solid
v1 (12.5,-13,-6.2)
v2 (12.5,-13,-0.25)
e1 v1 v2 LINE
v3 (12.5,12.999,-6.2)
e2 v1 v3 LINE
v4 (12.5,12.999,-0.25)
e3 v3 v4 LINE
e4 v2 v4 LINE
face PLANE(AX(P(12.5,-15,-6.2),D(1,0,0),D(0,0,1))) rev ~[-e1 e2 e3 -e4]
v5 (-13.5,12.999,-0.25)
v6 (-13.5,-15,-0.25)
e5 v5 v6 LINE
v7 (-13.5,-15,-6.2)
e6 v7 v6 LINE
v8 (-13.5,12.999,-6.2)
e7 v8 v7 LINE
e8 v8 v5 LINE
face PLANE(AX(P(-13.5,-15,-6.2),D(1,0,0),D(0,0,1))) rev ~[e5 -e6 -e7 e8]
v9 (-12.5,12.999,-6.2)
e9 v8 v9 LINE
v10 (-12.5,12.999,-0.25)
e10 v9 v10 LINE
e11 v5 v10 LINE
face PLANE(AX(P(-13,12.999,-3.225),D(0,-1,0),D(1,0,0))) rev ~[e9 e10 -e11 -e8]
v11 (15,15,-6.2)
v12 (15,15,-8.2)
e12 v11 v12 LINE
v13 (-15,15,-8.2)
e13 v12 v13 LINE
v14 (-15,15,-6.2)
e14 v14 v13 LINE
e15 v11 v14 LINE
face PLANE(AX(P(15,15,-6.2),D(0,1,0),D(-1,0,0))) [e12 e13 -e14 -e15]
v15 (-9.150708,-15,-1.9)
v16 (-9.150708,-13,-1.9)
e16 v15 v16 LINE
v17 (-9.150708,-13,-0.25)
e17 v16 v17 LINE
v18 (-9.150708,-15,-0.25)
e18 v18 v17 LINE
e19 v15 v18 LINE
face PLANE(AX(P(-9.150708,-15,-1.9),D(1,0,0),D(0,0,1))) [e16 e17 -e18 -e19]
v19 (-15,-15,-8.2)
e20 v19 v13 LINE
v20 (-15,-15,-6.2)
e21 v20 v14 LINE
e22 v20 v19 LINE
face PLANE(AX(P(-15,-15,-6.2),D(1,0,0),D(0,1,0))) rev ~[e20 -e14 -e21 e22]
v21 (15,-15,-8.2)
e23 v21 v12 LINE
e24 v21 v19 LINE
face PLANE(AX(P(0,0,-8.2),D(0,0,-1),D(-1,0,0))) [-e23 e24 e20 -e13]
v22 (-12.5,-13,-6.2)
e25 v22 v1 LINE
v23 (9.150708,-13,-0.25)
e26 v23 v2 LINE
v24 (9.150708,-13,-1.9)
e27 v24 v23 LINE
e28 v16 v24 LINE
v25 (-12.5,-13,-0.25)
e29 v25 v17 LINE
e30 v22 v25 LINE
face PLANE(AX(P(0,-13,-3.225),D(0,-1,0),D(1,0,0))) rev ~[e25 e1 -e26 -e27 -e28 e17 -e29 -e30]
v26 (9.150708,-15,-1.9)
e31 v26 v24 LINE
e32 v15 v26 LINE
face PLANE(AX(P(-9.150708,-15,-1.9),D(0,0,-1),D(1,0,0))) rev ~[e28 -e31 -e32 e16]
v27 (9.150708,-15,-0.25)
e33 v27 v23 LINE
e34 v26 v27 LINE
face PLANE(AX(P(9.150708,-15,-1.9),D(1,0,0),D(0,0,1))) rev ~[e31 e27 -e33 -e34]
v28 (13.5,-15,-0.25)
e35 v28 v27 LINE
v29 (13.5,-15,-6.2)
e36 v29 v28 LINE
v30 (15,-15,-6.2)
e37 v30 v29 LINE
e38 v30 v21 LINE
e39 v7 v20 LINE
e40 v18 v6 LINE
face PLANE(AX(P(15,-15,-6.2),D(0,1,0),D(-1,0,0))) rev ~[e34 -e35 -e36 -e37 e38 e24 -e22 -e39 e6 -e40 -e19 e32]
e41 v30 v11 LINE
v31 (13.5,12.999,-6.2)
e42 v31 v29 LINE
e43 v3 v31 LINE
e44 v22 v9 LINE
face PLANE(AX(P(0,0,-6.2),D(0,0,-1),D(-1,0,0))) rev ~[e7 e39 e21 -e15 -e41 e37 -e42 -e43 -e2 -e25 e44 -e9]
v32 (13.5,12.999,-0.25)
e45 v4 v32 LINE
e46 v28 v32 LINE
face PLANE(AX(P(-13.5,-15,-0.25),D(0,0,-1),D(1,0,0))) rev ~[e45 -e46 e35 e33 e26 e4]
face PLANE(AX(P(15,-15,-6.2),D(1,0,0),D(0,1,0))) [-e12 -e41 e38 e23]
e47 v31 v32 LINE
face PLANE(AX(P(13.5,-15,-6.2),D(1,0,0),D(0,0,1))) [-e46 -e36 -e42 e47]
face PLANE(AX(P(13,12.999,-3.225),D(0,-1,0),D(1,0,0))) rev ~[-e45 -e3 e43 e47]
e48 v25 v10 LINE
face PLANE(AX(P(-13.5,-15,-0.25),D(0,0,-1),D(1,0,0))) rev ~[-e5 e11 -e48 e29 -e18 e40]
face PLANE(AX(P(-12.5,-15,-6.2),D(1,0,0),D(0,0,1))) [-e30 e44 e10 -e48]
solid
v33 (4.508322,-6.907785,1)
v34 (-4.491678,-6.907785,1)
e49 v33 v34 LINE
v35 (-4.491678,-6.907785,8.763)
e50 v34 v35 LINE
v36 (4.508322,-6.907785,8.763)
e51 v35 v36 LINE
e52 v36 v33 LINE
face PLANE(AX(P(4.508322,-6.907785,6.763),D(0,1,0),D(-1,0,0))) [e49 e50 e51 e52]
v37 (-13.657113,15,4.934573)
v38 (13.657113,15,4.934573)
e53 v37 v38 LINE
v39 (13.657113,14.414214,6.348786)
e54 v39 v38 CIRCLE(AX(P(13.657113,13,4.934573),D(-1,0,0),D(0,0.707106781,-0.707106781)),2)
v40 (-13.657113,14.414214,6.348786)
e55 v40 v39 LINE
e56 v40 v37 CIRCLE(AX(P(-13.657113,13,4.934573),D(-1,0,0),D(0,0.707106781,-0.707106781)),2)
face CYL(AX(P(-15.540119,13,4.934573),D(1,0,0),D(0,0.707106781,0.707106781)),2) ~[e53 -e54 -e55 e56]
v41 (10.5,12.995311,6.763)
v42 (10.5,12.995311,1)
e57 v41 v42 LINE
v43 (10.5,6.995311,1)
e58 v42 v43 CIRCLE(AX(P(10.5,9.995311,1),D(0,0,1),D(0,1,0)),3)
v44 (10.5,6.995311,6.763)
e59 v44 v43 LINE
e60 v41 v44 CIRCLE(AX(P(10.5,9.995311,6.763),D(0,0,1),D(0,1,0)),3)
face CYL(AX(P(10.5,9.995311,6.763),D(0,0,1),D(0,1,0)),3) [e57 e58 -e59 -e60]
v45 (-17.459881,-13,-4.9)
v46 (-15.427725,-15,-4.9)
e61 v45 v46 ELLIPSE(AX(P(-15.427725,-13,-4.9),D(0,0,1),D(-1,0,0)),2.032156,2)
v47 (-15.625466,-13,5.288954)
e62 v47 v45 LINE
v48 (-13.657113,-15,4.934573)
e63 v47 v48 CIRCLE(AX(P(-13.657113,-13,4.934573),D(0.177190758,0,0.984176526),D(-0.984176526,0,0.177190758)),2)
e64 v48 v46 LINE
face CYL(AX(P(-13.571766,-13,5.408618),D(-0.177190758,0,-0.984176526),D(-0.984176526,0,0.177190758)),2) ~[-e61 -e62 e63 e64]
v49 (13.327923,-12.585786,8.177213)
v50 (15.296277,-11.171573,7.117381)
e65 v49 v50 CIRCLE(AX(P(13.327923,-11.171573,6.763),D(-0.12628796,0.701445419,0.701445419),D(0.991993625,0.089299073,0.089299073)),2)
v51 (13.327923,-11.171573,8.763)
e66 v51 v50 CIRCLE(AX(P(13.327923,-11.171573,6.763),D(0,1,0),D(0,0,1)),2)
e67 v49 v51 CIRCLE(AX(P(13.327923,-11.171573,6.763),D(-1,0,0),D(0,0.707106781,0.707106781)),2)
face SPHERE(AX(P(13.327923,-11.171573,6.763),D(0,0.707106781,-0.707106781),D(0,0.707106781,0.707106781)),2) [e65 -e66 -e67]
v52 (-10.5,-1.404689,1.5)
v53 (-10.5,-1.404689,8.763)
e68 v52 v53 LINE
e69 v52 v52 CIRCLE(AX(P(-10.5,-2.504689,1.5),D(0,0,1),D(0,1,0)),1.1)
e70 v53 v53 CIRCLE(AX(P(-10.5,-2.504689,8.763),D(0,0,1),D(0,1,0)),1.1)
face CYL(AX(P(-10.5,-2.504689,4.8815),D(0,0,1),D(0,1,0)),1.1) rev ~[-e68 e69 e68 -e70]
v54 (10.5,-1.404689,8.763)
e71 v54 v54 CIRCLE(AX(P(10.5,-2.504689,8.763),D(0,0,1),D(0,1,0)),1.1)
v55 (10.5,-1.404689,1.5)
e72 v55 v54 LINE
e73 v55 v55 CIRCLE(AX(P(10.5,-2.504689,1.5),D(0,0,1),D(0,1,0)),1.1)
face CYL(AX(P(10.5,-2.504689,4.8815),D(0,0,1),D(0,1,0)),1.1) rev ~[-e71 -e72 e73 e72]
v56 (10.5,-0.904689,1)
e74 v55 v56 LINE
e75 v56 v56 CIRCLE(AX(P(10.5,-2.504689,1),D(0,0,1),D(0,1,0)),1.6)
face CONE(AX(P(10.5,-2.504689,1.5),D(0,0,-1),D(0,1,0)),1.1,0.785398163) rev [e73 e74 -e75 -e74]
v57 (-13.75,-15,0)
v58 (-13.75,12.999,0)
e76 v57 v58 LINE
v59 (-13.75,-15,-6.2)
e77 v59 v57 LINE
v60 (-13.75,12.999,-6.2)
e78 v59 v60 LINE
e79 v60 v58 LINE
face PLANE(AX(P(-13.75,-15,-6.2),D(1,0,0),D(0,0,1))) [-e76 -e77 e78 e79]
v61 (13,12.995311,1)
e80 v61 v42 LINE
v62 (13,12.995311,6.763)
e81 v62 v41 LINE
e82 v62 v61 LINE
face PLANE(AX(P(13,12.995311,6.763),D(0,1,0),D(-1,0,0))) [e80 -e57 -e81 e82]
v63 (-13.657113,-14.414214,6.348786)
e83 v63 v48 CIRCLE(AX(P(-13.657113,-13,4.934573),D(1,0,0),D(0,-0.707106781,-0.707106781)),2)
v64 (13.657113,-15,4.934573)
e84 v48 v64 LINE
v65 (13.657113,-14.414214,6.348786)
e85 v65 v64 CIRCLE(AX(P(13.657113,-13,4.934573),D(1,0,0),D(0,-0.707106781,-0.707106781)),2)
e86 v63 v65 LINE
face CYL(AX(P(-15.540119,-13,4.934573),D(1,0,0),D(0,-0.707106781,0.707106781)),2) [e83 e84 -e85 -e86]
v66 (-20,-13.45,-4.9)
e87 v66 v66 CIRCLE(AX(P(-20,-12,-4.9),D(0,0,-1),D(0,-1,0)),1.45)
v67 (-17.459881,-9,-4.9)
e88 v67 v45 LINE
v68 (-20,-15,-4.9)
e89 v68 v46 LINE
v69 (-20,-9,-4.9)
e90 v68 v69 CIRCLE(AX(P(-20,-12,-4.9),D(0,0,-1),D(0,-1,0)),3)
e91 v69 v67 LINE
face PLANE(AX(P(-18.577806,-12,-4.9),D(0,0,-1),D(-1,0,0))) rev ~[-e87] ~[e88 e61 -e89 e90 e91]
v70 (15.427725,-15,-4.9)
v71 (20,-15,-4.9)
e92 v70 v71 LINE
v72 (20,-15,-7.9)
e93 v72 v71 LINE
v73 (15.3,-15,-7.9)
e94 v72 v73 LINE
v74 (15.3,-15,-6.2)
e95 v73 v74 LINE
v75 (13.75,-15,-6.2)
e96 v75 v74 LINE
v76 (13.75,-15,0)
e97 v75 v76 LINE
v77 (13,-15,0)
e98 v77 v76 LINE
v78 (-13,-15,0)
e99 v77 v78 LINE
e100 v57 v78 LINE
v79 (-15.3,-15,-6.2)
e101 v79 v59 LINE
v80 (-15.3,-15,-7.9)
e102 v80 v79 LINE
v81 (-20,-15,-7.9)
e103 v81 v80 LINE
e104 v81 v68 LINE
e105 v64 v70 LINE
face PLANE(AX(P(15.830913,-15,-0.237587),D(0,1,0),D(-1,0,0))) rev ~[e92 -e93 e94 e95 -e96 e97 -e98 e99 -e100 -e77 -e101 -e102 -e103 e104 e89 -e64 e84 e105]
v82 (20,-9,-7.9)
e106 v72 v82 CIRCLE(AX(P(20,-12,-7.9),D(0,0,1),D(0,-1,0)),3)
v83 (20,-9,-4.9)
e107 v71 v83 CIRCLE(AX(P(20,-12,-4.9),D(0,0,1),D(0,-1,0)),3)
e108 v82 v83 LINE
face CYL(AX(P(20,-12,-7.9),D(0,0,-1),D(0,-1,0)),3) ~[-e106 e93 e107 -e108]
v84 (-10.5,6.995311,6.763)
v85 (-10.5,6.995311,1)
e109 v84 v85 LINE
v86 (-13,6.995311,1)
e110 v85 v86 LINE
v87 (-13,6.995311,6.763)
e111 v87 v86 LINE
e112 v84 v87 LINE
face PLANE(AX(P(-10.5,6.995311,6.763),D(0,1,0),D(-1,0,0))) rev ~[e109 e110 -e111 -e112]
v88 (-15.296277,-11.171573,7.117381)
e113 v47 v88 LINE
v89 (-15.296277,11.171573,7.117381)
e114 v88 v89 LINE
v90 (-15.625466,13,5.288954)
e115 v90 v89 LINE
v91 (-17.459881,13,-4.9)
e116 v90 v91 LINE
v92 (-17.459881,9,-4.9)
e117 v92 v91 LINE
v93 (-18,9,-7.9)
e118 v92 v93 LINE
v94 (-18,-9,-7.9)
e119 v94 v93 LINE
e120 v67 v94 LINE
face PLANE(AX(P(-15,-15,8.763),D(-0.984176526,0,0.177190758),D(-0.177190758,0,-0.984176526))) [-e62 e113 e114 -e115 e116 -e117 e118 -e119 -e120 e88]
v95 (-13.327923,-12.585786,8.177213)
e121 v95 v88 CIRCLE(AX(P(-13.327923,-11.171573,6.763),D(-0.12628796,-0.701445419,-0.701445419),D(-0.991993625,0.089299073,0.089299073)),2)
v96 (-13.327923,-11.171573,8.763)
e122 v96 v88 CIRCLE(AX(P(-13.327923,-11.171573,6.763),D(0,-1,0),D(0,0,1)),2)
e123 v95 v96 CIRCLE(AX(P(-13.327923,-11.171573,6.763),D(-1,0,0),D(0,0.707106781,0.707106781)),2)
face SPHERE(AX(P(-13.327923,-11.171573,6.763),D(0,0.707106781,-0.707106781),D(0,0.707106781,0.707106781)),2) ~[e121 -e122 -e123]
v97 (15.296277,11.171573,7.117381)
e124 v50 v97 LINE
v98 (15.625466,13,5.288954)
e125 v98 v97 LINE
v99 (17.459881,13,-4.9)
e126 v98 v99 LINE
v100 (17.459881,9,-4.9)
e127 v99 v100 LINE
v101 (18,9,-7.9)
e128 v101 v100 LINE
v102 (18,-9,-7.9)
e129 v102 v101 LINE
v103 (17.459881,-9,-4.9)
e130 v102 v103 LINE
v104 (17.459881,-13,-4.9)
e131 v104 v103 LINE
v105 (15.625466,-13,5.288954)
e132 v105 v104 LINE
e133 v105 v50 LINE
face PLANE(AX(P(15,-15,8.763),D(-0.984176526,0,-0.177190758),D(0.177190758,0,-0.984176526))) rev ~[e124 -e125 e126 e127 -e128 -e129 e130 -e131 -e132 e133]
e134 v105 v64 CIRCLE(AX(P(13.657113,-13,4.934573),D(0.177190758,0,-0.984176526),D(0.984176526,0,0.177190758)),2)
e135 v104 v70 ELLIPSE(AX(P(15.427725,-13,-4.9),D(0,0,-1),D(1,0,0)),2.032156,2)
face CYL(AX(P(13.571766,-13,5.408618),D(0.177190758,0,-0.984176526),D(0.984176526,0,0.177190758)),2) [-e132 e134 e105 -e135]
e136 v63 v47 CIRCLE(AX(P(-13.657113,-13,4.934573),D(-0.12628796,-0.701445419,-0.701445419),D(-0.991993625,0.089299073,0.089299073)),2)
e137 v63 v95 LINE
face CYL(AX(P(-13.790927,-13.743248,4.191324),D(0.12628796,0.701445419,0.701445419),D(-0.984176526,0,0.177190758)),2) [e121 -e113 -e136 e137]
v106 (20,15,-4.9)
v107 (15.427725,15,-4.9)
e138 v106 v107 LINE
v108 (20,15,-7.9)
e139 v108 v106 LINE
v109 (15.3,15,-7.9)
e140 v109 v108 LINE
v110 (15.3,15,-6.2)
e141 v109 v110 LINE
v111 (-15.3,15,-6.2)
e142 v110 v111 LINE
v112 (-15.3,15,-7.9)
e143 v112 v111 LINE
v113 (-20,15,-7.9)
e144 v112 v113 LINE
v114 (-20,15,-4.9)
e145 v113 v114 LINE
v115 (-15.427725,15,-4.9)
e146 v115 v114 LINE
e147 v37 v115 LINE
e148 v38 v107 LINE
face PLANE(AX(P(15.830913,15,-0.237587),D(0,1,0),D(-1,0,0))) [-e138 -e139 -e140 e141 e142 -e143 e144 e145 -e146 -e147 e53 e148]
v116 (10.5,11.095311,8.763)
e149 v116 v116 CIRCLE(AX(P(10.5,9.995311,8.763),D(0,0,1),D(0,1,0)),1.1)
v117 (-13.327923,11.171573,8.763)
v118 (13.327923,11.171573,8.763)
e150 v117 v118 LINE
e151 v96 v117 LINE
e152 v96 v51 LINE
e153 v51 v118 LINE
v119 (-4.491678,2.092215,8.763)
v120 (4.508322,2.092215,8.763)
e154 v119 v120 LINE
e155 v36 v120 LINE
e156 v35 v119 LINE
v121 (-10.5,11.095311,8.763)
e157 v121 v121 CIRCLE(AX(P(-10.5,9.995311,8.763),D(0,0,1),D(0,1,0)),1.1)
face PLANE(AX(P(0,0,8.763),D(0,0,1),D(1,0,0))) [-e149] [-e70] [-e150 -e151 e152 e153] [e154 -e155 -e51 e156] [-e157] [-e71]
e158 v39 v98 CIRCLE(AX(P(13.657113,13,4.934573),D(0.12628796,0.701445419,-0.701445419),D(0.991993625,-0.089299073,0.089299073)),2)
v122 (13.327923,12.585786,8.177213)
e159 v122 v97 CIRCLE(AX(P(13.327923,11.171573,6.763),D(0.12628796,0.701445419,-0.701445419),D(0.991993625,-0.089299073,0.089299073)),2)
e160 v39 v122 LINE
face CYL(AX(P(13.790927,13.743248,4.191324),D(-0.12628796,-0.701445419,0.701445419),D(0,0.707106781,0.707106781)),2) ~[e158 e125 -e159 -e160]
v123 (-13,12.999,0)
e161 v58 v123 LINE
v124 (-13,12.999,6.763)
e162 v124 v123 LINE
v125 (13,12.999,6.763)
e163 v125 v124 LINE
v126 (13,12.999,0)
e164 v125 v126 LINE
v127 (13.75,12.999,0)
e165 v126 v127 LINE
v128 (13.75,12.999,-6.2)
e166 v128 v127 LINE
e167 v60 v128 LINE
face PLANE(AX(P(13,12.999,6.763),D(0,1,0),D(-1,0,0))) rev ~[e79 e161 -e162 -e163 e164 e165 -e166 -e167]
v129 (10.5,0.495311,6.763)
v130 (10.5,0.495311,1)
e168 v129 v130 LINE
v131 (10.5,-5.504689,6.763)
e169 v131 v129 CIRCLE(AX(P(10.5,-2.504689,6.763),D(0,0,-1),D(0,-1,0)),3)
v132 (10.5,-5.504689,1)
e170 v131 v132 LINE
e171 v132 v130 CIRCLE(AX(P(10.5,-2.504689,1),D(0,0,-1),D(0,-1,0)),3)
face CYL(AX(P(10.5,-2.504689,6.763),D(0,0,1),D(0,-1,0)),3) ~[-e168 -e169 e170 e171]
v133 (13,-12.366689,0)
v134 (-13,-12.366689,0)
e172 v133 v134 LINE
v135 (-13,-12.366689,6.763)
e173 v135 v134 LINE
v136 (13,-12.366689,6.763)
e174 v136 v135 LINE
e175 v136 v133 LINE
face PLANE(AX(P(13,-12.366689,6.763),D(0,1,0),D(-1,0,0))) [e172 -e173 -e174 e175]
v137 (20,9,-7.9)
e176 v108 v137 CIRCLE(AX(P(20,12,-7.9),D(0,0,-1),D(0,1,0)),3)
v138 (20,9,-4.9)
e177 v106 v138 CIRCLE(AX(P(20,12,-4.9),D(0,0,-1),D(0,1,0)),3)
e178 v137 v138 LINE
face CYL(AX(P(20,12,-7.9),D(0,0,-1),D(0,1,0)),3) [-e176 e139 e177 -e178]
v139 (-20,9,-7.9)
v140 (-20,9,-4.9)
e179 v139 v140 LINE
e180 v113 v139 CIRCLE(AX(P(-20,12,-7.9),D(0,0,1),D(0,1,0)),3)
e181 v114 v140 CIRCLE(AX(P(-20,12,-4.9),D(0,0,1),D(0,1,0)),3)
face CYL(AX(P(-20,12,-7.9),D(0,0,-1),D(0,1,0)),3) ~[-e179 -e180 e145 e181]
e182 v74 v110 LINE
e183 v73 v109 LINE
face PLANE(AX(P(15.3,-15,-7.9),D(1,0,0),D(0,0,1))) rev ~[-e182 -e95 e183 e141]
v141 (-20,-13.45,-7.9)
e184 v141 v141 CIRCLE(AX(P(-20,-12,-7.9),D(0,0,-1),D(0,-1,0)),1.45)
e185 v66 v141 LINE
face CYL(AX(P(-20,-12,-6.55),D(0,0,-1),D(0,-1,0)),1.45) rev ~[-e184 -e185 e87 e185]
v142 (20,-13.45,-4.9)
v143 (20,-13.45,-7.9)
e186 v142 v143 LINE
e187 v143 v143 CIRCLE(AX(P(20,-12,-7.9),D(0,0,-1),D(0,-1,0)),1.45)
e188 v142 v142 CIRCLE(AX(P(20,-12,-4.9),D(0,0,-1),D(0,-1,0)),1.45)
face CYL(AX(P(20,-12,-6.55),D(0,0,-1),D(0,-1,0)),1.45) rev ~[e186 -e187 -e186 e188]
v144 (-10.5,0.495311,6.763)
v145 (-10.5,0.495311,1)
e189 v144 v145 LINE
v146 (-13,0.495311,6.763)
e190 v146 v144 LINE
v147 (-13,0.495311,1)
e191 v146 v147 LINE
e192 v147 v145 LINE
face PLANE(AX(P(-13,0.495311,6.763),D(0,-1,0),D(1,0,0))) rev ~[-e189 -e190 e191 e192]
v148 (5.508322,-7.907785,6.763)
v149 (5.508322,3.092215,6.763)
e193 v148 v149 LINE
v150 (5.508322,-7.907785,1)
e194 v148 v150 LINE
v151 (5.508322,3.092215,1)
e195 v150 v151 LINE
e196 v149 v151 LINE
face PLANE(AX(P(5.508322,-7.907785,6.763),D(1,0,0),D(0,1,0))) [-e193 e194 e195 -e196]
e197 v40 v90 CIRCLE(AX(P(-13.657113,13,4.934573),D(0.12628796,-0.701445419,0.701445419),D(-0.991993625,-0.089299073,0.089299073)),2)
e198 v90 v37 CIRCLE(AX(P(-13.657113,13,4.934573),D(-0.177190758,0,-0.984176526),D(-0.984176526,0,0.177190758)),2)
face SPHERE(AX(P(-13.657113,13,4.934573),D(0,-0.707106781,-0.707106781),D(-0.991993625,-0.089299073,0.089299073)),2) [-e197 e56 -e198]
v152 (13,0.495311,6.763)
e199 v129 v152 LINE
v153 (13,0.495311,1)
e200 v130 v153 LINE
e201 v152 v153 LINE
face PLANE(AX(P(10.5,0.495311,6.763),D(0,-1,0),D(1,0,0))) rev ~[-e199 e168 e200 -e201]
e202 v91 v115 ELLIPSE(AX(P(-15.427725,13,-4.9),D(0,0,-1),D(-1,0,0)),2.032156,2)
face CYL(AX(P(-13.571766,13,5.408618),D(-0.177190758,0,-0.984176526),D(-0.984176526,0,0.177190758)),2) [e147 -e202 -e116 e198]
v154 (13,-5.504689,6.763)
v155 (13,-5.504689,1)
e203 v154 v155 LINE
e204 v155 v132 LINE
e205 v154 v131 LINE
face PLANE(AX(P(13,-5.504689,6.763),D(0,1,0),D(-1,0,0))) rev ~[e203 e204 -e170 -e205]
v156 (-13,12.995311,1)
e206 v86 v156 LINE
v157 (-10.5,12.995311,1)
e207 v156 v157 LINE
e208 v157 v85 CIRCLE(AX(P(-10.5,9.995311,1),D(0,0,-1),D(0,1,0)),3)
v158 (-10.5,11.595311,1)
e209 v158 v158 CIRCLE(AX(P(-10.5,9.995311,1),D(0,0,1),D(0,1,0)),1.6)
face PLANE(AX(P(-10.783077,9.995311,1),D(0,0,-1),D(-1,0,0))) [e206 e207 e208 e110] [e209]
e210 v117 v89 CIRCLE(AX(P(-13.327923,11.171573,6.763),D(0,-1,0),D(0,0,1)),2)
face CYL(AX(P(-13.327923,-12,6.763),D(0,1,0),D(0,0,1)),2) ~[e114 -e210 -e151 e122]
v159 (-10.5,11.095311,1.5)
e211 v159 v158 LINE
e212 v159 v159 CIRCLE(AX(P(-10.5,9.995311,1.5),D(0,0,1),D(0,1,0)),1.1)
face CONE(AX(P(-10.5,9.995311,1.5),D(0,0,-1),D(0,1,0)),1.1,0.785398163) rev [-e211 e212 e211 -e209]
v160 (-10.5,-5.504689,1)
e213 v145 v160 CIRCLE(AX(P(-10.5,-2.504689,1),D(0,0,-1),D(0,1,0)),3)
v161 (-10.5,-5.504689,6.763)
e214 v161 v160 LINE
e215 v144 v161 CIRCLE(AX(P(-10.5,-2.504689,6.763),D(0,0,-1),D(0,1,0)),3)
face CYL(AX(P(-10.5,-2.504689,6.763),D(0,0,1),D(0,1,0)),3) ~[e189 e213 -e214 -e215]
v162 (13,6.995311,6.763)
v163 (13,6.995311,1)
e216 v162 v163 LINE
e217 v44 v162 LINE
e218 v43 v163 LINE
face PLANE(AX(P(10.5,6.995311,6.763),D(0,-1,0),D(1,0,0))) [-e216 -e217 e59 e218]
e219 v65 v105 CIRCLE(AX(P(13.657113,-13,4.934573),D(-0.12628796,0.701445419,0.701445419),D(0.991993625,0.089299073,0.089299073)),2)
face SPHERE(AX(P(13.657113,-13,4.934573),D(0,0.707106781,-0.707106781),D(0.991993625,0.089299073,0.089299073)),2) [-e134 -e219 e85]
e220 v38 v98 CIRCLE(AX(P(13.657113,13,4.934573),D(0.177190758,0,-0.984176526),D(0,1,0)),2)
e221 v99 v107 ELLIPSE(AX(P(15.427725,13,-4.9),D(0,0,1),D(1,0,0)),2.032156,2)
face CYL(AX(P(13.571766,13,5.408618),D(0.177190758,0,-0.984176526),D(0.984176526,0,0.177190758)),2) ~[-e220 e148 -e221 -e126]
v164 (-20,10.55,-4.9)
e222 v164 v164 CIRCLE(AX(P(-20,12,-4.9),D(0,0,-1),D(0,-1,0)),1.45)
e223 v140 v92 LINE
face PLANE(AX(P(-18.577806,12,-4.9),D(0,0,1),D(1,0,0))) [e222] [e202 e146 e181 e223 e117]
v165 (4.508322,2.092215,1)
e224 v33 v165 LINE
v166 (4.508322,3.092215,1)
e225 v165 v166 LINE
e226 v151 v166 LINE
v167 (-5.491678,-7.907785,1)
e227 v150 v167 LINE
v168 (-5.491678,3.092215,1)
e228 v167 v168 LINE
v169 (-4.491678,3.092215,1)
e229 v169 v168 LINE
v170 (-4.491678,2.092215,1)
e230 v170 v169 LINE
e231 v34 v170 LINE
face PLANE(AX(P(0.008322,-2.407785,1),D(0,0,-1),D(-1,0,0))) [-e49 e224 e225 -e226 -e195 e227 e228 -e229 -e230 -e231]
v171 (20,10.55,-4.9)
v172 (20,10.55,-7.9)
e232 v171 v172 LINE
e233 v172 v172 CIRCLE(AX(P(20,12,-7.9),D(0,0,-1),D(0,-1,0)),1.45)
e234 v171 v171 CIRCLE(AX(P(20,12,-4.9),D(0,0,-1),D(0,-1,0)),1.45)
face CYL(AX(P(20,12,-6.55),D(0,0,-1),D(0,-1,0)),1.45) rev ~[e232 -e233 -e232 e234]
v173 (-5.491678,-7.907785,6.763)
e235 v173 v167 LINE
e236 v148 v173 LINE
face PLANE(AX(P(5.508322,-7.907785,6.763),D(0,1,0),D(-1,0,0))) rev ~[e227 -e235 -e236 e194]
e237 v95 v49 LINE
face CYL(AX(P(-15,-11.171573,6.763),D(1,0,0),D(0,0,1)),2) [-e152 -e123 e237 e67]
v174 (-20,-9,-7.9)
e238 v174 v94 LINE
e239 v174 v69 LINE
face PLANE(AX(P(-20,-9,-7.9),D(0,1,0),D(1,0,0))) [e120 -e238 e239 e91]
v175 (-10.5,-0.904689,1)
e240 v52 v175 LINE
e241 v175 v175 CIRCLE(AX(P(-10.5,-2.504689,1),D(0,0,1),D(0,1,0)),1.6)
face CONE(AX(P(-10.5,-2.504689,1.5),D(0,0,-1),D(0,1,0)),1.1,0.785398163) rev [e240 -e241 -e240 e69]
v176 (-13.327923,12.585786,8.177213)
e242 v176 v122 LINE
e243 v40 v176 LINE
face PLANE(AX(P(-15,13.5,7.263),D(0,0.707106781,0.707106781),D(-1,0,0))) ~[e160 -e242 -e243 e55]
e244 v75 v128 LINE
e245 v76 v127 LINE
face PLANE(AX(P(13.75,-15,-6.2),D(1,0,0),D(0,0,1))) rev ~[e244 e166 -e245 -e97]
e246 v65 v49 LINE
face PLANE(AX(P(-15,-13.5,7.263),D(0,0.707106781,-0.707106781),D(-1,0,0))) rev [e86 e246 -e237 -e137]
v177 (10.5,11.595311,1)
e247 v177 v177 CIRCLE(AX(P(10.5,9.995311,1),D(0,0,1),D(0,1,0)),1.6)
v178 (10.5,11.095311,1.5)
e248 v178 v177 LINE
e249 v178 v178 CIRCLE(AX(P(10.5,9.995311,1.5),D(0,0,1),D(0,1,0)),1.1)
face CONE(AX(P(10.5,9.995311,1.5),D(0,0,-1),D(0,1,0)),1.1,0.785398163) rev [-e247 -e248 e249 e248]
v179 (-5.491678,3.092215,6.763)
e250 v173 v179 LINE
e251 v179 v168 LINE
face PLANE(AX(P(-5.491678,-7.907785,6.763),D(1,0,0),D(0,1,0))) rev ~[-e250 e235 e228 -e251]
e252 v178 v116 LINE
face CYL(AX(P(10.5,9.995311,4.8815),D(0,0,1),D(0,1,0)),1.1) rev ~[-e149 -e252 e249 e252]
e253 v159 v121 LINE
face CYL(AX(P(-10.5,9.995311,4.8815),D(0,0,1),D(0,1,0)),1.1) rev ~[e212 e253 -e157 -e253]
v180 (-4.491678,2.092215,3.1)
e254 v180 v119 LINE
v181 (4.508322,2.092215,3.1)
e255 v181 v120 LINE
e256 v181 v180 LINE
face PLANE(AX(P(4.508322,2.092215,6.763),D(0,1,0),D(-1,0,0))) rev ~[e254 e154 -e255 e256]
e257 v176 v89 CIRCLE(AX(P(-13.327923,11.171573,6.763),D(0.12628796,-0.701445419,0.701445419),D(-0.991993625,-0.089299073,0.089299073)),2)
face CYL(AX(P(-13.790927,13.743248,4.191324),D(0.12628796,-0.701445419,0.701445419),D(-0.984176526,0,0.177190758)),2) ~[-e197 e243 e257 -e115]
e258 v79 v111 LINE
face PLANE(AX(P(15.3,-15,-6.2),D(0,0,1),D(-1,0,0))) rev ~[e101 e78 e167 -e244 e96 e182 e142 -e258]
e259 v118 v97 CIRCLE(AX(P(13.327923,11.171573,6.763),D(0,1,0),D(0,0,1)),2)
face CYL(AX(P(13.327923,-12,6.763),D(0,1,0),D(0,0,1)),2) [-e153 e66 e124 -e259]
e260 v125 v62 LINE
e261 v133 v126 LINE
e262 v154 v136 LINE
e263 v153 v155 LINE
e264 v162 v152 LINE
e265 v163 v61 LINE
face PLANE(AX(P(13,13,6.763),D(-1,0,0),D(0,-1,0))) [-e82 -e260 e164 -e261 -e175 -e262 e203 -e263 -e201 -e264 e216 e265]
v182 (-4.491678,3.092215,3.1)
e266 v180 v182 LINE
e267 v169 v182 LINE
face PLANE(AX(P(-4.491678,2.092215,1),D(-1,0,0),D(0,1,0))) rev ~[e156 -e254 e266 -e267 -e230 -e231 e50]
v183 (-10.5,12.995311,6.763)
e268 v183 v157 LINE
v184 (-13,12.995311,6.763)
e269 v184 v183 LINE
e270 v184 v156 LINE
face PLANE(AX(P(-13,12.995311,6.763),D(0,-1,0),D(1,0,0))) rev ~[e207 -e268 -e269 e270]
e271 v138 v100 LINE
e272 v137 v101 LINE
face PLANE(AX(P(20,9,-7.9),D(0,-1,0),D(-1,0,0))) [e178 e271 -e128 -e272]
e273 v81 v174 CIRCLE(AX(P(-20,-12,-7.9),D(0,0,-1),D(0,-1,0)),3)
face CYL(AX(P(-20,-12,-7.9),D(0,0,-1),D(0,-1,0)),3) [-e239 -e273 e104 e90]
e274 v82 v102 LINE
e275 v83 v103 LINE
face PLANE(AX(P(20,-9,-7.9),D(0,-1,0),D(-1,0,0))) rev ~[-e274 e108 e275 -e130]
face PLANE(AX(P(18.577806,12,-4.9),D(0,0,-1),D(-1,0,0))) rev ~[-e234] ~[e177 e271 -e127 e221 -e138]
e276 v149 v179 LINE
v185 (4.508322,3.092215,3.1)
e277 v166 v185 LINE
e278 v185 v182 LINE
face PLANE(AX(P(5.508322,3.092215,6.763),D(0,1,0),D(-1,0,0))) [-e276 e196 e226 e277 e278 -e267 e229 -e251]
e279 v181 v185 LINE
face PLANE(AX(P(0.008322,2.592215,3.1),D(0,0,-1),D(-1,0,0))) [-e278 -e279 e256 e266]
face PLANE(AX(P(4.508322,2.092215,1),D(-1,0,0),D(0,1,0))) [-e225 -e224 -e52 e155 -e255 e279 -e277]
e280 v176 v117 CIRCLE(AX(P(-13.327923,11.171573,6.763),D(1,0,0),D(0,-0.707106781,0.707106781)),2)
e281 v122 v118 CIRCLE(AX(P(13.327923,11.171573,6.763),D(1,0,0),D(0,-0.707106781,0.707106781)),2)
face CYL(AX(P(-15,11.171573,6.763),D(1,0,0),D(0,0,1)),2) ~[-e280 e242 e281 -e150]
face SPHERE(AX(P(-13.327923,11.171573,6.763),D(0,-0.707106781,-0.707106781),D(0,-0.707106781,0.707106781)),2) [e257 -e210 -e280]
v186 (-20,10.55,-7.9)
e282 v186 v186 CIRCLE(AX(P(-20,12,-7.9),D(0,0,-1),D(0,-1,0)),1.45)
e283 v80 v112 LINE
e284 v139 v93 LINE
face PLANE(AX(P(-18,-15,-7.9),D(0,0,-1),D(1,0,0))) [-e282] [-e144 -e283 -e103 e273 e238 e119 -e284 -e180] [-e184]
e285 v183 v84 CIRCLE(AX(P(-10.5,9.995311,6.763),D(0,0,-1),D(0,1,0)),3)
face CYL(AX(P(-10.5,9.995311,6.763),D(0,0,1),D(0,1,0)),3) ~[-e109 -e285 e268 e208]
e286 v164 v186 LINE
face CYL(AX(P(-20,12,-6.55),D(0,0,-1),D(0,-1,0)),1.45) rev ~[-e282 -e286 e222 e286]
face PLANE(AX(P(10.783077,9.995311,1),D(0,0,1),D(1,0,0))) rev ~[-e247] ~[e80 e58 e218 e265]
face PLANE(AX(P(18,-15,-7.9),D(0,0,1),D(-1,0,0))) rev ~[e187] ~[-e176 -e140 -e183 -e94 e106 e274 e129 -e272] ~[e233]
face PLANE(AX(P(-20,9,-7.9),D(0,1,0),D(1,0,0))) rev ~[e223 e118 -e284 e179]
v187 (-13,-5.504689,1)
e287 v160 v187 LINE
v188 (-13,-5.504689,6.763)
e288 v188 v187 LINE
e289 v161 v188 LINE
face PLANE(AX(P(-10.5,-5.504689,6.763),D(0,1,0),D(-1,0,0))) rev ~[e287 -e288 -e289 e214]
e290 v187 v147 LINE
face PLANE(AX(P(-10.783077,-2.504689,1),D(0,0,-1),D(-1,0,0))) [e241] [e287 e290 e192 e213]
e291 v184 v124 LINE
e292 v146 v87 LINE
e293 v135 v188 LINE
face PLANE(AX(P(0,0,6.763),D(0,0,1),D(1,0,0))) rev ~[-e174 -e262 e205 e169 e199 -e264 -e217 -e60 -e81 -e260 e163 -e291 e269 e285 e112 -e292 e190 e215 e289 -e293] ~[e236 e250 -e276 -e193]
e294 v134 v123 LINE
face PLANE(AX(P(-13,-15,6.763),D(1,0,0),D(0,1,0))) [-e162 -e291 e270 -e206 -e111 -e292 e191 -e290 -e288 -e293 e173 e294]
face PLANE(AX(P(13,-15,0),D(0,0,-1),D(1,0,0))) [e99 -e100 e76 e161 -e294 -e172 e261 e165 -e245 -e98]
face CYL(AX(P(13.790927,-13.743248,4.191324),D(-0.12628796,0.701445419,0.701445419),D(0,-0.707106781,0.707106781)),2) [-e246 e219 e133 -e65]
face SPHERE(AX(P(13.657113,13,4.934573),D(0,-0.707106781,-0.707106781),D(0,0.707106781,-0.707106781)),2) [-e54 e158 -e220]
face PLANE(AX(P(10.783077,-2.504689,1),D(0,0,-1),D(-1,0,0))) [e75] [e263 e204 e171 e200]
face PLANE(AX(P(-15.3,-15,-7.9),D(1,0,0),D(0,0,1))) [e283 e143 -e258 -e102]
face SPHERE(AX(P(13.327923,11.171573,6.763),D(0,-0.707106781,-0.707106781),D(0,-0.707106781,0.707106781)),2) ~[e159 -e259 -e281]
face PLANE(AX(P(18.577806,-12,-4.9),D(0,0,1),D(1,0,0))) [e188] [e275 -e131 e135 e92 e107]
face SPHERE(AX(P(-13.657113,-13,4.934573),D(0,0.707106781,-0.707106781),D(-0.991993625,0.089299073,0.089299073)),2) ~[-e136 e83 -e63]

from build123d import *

# Parameters (mm, degrees)
SKETCH1_W                       = 30
SKETCH1_H                       = 30
BOSS_EXTRUDE1_DEPTH             = 2
BOSS_EXTRUDE2_DEPTH             = 12.962999868
BOSS_EXTRUDE3_DEPTH             = 5.762999868
SKETCH4_W                       = 26
SKETCH4_H                       = 2.633310891
BOSS_EXTRUDE4_DEPTH             = 6.762999868
SKETCH6_W                       = 30
SKETCH6_H                       = 30
BOSS_EXTRUDE5_DEPTH             = 2
SKETCH8_W                       = 9
SKETCH8_H                       = 9
CUT_EXTRUDE1_DEPTH              = 28.161431562
SKETCH9_W                       = 11
SKETCH9_H                       = 11
SKETCH9_W_2                     = 9
SKETCH9_H_2                     = 9
BOSS_EXTRUDE7_DEPTH             = 5.763
SKETCH10_W                      = 9
SKETCH10_H                      = 1
CUT_EXTRUDE2_DEPTH              = 2.1
SKETCH11_W                      = 26
SKETCH11_H                      = 0.001
BOSS_EXTRUDE8_DEPTH             = 12.962999868
SKETCH13_W                      = 0.75
SKETCH13_H                      = 6.2
CUT_EXTRUDE3_DEPTH              = 27.999
SKETCH7_W                       = 27
SKETCH7_H                       = 5.95
BOSS_EXTRUDE6_DEPTH             = 2
SKETCH12_W                      = 1
SKETCH12_H                      = 5.95
BOSS_EXTRUDE10_DEPTH            = 27.999
BOSS_EXTRUDE12_DEPTH            = 30
BOSS_EXTRUDE13_DEPTH            = 3
SKETCH21_W                      = 1.45
SKETCH21_H                      = 3.3
M2_5_CLEARANCE_HOLE1_AT_2_COUNT = 2
M2_5_CLEARANCE_HOLE1_AT_2_PITCH = 40
M2_5_CLEARANCE_HOLE1_AT_3_COUNT = 2
M2_5_CLEARANCE_HOLE1_AT_3_PITCH = 46.647615159
M2_5_CLEARANCE_HOLE1_AT_4_COUNT = 2
M2_5_CLEARANCE_HOLE1_AT_4_PITCH = 24
CHAMFER1_SIZE                   = 3
SKETCH22_W                      = 18.301416056
SKETCH22_H                      = 1.65
CUT_EXTRUDE5_DEPTH              = 2
SKETCH25_W                      = 1.1
SKETCH25_H                      = 7.762999868
M2_CLEARANCE_HOLE1_AT_2_COUNT   = 2
M2_CLEARANCE_HOLE1_AT_2_PITCH   = 21
M2_CLEARANCE_HOLE1_AT_3_COUNT   = 2
M2_CLEARANCE_HOLE1_AT_3_PITCH   = 24.43869882
M2_CLEARANCE_HOLE1_AT_4_COUNT   = 2
M2_CLEARANCE_HOLE1_AT_4_PITCH   = 12.5
CHAMFER2_SIZE                   = 0.5
FILLET1_R                       = 2


with BuildPart() as part:
    # Sketch1 → Boss-Extrude1 (new body)
    with BuildSketch(Plane.XY.offset(6.762999868)):
        Rectangle(SKETCH1_W, SKETCH1_H)
    extrude(amount=BOSS_EXTRUDE1_DEPTH)

    # Sketch2 → Boss-Extrude2 (add)
    with BuildSketch(Plane(origin=(0, 0, 6.762999868), x_dir=(-1, 0, 0), z_dir=(0, 0, -1))):
        Polygon((13, -15), (13, 13), (-13, 13), (-13, -15), (-15, -15), (-15, 15), (15, 15), (15, -15), align=None)
    extrude(amount=BOSS_EXTRUDE2_DEPTH)

    # Sketch3 → Boss-Extrude3 (add)
    with BuildSketch(Plane(origin=(0, 0, 6.762999868), x_dir=(-1, 0, 0), z_dir=(0, 0, -1))):
        with BuildLine():
            Line((-10.5, 0.495310891), (-13, 0.495310891))
            Line((-13, 0.495310891), (-13, -5.504689109))
            Line((-13, -5.504689109), (-10.5, -5.504689109))
            ThreePointArc((-10.5, -5.504689109), (-7.5, -2.504689109), (-10.5, 0.495310891))
        make_face()
        with BuildLine():
            Line((-13, 12.995310891), (-10.5, 12.995310891))
            ThreePointArc((-10.5, 12.995310891), (-7.5, 9.995310891), (-10.5, 6.995310891))
            Line((-10.5, 6.995310891), (-13, 6.995310891))
            Line((-13, 6.995310891), (-13, 12.995310891))
        make_face()
        with BuildLine():
            Line((13, 12.995310891), (10.5, 12.995310891))
            ThreePointArc((10.5, 12.995310891), (7.5, 9.995310891), (10.5, 6.995310891))
            Line((10.5, 6.995310891), (13, 6.995310891))
            Line((13, 6.995310891), (13, 12.995310891))
        make_face()
        with BuildLine():
            Line((13, 0.495310891), (10.5, 0.495310891))
            ThreePointArc((10.5, 0.495310891), (7.5, -2.504689109), (10.5, -5.504689109))
            Line((10.5, -5.504689109), (13, -5.504689109))
            Line((13, -5.504689109), (13, 0.495310891))
        make_face()
    extrude(amount=BOSS_EXTRUDE3_DEPTH)

    # Sketch4 → Boss-Extrude4 (add)
    with BuildSketch(Plane(origin=(0, 0, 6.762999868), x_dir=(-1, 0, 0), z_dir=(0, 0, -1))):
        with Locations((0, -13.683344555)):
            Rectangle(SKETCH4_W, SKETCH4_H)
    extrude(amount=BOSS_EXTRUDE4_DEPTH)

    # Sketch8 → Cut-Extrude1 (cut, through all)
    with BuildSketch(Plane.XY.offset(8.762999868)):
        with Locations((0.008321586, -2.407784624)):
            Rectangle(SKETCH8_W, SKETCH8_H)
    extrude(amount=-CUT_EXTRUDE1_DEPTH, mode=Mode.SUBTRACT)

    # Sketch9 → Boss-Extrude7 (add)
    with BuildSketch(Plane(origin=(0, 0, 6.762999868), x_dir=(-1, 0, 0), z_dir=(0, 0, -1))):
        with Locations((-0.008321586, -2.407784624)):
            Rectangle(SKETCH9_W, SKETCH9_H)
        with Locations((-0.008321586, -2.407784624)):
            Rectangle(SKETCH9_W_2, SKETCH9_H_2, mode=Mode.SUBTRACT)
    extrude(amount=BOSS_EXTRUDE7_DEPTH)

    # Sketch10 → Cut-Extrude2 (cut)
    with BuildSketch(Plane(origin=(0, 0, 1), x_dir=(-1, 0, 0), z_dir=(0, 0, -1))):
        with Locations((-0.008321586, 2.592215376)):
            Rectangle(SKETCH10_W, SKETCH10_H)
    extrude(amount=-CUT_EXTRUDE2_DEPTH, mode=Mode.SUBTRACT)

    # Sketch11 → Boss-Extrude8 (add)
    with BuildSketch(Plane(origin=(0, 0, 6.762999868), x_dir=(-1, 0, 0), z_dir=(0, 0, -1))):
        with Locations((0, 12.9995)):
            Rectangle(SKETCH11_W, SKETCH11_H)
    extrude(amount=BOSS_EXTRUDE8_DEPTH)

    # Sketch13 → Cut-Extrude3 (cut)
    with BuildSketch(Plane.XZ.offset(15)):
        with Locations((13.375, -3.1)):
            Rectangle(SKETCH13_W, SKETCH13_H)
        with Locations((-13.375, -3.1)):
            Rectangle(SKETCH13_W, SKETCH13_H)
    extrude(amount=-CUT_EXTRUDE3_DEPTH, mode=Mode.SUBTRACT)

    # Sketch17 → Boss-Extrude12 (add)
    with BuildSketch(Plane.XZ.offset(15)):
        Polygon((15, 8.762999868), (18, -7.9), (15.3, -7.9), (15.3, -6.2), (15, -6.2), align=None)
        Polygon((-15.3, -6.2), (-15, -6.2), (-15, 8.762999868), (-18, -7.9), (-15.3, -7.9), align=None)
    extrude(amount=-BOSS_EXTRUDE12_DEPTH)

    # Sketch19 → Boss-Extrude13 (add)
    with BuildSketch(Plane(origin=(0, 0, -7.9), x_dir=(-1, 0, 0), z_dir=(0, 0, -1))):
        with BuildLine():
            Line((-15.3, 15), (-20, 15))
            ThreePointArc((-20, 15), (-23, 12), (-20, 9))
            Line((-20, 9), (-15.3, 9))
            Line((-15.3, 9), (-15.3, 15))
        make_face()
        with BuildLine():
            Line((15.3, 15), (20, 15))
            ThreePointArc((20, 15), (23, 12), (20, 9))
            Line((20, 9), (15.3, 9))
            Line((15.3, 9), (15.3, 15))
        make_face()
        with BuildLine():
            Line((-15.3, -15), (-20, -15))
            ThreePointArc((-20, -15), (-23, -12), (-20, -9))
            Line((-20, -9), (-15.3, -9))
            Line((-15.3, -9), (-15.3, -15))
        make_face()
        with BuildLine():
            Line((15.3, -15), (20, -15))
            ThreePointArc((20, -15), (23, -12), (20, -9))
            Line((20, -9), (15.3, -9))
            Line((15.3, -9), (15.3, -15))
        make_face()
    extrude(amount=-BOSS_EXTRUDE13_DEPTH)

    # Sketch21 → M2.5 Clearance Hole1 (revolve, cut)
    with BuildSketch(Plane(origin=(-20, 12, -4.9), x_dir=(0, -1, 0), z_dir=(1, 0, 0))):
        with Locations((0.725, 1.65)):
            Rectangle(SKETCH21_W, SKETCH21_H)
    m2_5_clearance_hole1 = revolve(axis=Axis((-20, 12, 1.45), (0, 0, -1)), mode=Mode.SUBTRACT)

    # M2.5 Clearance Hole1 at 2: M2.5 Clearance Hole1 ×2
    with Locations(*[(i * M2_5_CLEARANCE_HOLE1_AT_2_PITCH, 0, 0) for i in range(1, M2_5_CLEARANCE_HOLE1_AT_2_COUNT)]):
        add(m2_5_clearance_hole1, mode=Mode.SUBTRACT)

    # M2.5 Clearance Hole1 at 3: M2.5 Clearance Hole1 ×2
    with Locations(*[Vector(0.8574929257125442, -0.5144957554275266, 0) * (i * M2_5_CLEARANCE_HOLE1_AT_3_PITCH) for i in range(1, M2_5_CLEARANCE_HOLE1_AT_3_COUNT)]):
        add(m2_5_clearance_hole1, mode=Mode.SUBTRACT)

    # M2.5 Clearance Hole1 at 4: M2.5 Clearance Hole1 ×2
    with Locations(*[(0, -i * M2_5_CLEARANCE_HOLE1_AT_4_PITCH, 0) for i in range(1, M2_5_CLEARANCE_HOLE1_AT_4_COUNT)]):
        add(m2_5_clearance_hole1, mode=Mode.SUBTRACT)

    # Chamfer1
    chamfer1_edges = [part.edges().sort_by_distance(p)[0] for p in [
        (0, -15, 8.762999868),
        (0, 15, 8.762999868),
    ]]
    chamfer(chamfer1_edges, length=CHAMFER1_SIZE)

    # Sketch25 → M2 Clearance Hole1 (revolve, cut)
    with BuildSketch(Plane(origin=(10.5, 9.995310891, 1), x_dir=(0, 1, 0), z_dir=(1, 0, 0))):
        with Locations((0.55, 3.881499934)):
            Rectangle(SKETCH25_W, SKETCH25_H)
    m2_clearance_hole1 = revolve(axis=Axis((10.5, 9.995310891, -5.35), (0, 0, 1)), mode=Mode.SUBTRACT)

    # M2 Clearance Hole1 at 2: M2 Clearance Hole1 ×2
    with Locations(*[(-i * M2_CLEARANCE_HOLE1_AT_2_PITCH, 0, 0) for i in range(1, M2_CLEARANCE_HOLE1_AT_2_COUNT)]):
        add(m2_clearance_hole1, mode=Mode.SUBTRACT)

    # M2 Clearance Hole1 at 3: M2 Clearance Hole1 ×2
    with Locations(*[Vector(-0.8592928844097062, -0.5114838597676834, 0) * (i * M2_CLEARANCE_HOLE1_AT_3_PITCH) for i in range(1, M2_CLEARANCE_HOLE1_AT_3_COUNT)]):
        add(m2_clearance_hole1, mode=Mode.SUBTRACT)

    # M2 Clearance Hole1 at 4: M2 Clearance Hole1 ×2
    with Locations(*[(0, -i * M2_CLEARANCE_HOLE1_AT_4_PITCH, 0) for i in range(1, M2_CLEARANCE_HOLE1_AT_4_COUNT)]):
        add(m2_clearance_hole1, mode=Mode.SUBTRACT)

    # Chamfer2
    chamfer2_edges = [part.edges().sort_by_distance(p)[0] for p in [
        (10.5, -3.604689109, 1),
        (-10.5, -3.604689109, 1),
        (-10.5, 8.895310891, 1),
        (10.5, 8.895310891, 1),
    ]]
    chamfer(chamfer2_edges, length=CHAMFER2_SIZE)

    # Fillet1
    fillet1_edges = [part.edges().sort_by_distance(p)[0] for p in [
        (-16.5, 15, 0.431499934),
        (16.5, -15, 0.431499934),
        (15, 0, 8.762999868),
        (-15, 0, 8.762999868),
        (0, -12, 8.762999868),
        (0, 12, 8.762999868),
        (-16.5, -15, 0.431499934),
        (-15.270059415, -13.5, 7.262999868),
        (-15.270059415, 13.5, 7.262999868),
        (16.5, 15, 0.431499934),
        (0, 15, 5.762999868),
        (15.270059415, -13.5, 7.262999868),
        (15.270059415, 13.5, 7.262999868),
        (0, -15, 5.762999868),
    ]]
    fillet(fillet1_edges, radius=FILLET1_R)


with BuildPart() as body_2:
    # Sketch6 → Boss-Extrude5 (new body)
    with BuildSketch(Plane(origin=(0, 0, -6.2), x_dir=(-1, 0, 0), z_dir=(0, 0, -1))):
        Rectangle(SKETCH6_W, SKETCH6_H)
    extrude(amount=BOSS_EXTRUDE5_DEPTH)

    # Sketch7 → Boss-Extrude6 (add)
    with BuildSketch(Plane.XZ.offset(15)):
        with Locations((0, -3.225)):
            Rectangle(SKETCH7_W, SKETCH7_H)
    extrude(amount=-BOSS_EXTRUDE6_DEPTH)

    # Sketch12 → Boss-Extrude10 (add)
    with BuildSketch(Plane.XZ.offset(15)):
        with Locations((-13, -3.225)):
            Rectangle(SKETCH12_W, SKETCH12_H)
        with Locations((13, -3.225)):
            Rectangle(SKETCH12_W, SKETCH12_H)
    extrude(amount=-BOSS_EXTRUDE10_DEPTH)

    # Sketch22 → Cut-Extrude5 (cut)
    with BuildSketch(Plane.XZ.offset(15)):
        with Locations((0, -1.075)):
            Rectangle(SKETCH22_W, SKETCH22_H)
    extrude(amount=-CUT_EXTRUDE5_DEPTH, mode=Mode.SUBTRACT)


solid = Compound([part.part, body_2.part])
